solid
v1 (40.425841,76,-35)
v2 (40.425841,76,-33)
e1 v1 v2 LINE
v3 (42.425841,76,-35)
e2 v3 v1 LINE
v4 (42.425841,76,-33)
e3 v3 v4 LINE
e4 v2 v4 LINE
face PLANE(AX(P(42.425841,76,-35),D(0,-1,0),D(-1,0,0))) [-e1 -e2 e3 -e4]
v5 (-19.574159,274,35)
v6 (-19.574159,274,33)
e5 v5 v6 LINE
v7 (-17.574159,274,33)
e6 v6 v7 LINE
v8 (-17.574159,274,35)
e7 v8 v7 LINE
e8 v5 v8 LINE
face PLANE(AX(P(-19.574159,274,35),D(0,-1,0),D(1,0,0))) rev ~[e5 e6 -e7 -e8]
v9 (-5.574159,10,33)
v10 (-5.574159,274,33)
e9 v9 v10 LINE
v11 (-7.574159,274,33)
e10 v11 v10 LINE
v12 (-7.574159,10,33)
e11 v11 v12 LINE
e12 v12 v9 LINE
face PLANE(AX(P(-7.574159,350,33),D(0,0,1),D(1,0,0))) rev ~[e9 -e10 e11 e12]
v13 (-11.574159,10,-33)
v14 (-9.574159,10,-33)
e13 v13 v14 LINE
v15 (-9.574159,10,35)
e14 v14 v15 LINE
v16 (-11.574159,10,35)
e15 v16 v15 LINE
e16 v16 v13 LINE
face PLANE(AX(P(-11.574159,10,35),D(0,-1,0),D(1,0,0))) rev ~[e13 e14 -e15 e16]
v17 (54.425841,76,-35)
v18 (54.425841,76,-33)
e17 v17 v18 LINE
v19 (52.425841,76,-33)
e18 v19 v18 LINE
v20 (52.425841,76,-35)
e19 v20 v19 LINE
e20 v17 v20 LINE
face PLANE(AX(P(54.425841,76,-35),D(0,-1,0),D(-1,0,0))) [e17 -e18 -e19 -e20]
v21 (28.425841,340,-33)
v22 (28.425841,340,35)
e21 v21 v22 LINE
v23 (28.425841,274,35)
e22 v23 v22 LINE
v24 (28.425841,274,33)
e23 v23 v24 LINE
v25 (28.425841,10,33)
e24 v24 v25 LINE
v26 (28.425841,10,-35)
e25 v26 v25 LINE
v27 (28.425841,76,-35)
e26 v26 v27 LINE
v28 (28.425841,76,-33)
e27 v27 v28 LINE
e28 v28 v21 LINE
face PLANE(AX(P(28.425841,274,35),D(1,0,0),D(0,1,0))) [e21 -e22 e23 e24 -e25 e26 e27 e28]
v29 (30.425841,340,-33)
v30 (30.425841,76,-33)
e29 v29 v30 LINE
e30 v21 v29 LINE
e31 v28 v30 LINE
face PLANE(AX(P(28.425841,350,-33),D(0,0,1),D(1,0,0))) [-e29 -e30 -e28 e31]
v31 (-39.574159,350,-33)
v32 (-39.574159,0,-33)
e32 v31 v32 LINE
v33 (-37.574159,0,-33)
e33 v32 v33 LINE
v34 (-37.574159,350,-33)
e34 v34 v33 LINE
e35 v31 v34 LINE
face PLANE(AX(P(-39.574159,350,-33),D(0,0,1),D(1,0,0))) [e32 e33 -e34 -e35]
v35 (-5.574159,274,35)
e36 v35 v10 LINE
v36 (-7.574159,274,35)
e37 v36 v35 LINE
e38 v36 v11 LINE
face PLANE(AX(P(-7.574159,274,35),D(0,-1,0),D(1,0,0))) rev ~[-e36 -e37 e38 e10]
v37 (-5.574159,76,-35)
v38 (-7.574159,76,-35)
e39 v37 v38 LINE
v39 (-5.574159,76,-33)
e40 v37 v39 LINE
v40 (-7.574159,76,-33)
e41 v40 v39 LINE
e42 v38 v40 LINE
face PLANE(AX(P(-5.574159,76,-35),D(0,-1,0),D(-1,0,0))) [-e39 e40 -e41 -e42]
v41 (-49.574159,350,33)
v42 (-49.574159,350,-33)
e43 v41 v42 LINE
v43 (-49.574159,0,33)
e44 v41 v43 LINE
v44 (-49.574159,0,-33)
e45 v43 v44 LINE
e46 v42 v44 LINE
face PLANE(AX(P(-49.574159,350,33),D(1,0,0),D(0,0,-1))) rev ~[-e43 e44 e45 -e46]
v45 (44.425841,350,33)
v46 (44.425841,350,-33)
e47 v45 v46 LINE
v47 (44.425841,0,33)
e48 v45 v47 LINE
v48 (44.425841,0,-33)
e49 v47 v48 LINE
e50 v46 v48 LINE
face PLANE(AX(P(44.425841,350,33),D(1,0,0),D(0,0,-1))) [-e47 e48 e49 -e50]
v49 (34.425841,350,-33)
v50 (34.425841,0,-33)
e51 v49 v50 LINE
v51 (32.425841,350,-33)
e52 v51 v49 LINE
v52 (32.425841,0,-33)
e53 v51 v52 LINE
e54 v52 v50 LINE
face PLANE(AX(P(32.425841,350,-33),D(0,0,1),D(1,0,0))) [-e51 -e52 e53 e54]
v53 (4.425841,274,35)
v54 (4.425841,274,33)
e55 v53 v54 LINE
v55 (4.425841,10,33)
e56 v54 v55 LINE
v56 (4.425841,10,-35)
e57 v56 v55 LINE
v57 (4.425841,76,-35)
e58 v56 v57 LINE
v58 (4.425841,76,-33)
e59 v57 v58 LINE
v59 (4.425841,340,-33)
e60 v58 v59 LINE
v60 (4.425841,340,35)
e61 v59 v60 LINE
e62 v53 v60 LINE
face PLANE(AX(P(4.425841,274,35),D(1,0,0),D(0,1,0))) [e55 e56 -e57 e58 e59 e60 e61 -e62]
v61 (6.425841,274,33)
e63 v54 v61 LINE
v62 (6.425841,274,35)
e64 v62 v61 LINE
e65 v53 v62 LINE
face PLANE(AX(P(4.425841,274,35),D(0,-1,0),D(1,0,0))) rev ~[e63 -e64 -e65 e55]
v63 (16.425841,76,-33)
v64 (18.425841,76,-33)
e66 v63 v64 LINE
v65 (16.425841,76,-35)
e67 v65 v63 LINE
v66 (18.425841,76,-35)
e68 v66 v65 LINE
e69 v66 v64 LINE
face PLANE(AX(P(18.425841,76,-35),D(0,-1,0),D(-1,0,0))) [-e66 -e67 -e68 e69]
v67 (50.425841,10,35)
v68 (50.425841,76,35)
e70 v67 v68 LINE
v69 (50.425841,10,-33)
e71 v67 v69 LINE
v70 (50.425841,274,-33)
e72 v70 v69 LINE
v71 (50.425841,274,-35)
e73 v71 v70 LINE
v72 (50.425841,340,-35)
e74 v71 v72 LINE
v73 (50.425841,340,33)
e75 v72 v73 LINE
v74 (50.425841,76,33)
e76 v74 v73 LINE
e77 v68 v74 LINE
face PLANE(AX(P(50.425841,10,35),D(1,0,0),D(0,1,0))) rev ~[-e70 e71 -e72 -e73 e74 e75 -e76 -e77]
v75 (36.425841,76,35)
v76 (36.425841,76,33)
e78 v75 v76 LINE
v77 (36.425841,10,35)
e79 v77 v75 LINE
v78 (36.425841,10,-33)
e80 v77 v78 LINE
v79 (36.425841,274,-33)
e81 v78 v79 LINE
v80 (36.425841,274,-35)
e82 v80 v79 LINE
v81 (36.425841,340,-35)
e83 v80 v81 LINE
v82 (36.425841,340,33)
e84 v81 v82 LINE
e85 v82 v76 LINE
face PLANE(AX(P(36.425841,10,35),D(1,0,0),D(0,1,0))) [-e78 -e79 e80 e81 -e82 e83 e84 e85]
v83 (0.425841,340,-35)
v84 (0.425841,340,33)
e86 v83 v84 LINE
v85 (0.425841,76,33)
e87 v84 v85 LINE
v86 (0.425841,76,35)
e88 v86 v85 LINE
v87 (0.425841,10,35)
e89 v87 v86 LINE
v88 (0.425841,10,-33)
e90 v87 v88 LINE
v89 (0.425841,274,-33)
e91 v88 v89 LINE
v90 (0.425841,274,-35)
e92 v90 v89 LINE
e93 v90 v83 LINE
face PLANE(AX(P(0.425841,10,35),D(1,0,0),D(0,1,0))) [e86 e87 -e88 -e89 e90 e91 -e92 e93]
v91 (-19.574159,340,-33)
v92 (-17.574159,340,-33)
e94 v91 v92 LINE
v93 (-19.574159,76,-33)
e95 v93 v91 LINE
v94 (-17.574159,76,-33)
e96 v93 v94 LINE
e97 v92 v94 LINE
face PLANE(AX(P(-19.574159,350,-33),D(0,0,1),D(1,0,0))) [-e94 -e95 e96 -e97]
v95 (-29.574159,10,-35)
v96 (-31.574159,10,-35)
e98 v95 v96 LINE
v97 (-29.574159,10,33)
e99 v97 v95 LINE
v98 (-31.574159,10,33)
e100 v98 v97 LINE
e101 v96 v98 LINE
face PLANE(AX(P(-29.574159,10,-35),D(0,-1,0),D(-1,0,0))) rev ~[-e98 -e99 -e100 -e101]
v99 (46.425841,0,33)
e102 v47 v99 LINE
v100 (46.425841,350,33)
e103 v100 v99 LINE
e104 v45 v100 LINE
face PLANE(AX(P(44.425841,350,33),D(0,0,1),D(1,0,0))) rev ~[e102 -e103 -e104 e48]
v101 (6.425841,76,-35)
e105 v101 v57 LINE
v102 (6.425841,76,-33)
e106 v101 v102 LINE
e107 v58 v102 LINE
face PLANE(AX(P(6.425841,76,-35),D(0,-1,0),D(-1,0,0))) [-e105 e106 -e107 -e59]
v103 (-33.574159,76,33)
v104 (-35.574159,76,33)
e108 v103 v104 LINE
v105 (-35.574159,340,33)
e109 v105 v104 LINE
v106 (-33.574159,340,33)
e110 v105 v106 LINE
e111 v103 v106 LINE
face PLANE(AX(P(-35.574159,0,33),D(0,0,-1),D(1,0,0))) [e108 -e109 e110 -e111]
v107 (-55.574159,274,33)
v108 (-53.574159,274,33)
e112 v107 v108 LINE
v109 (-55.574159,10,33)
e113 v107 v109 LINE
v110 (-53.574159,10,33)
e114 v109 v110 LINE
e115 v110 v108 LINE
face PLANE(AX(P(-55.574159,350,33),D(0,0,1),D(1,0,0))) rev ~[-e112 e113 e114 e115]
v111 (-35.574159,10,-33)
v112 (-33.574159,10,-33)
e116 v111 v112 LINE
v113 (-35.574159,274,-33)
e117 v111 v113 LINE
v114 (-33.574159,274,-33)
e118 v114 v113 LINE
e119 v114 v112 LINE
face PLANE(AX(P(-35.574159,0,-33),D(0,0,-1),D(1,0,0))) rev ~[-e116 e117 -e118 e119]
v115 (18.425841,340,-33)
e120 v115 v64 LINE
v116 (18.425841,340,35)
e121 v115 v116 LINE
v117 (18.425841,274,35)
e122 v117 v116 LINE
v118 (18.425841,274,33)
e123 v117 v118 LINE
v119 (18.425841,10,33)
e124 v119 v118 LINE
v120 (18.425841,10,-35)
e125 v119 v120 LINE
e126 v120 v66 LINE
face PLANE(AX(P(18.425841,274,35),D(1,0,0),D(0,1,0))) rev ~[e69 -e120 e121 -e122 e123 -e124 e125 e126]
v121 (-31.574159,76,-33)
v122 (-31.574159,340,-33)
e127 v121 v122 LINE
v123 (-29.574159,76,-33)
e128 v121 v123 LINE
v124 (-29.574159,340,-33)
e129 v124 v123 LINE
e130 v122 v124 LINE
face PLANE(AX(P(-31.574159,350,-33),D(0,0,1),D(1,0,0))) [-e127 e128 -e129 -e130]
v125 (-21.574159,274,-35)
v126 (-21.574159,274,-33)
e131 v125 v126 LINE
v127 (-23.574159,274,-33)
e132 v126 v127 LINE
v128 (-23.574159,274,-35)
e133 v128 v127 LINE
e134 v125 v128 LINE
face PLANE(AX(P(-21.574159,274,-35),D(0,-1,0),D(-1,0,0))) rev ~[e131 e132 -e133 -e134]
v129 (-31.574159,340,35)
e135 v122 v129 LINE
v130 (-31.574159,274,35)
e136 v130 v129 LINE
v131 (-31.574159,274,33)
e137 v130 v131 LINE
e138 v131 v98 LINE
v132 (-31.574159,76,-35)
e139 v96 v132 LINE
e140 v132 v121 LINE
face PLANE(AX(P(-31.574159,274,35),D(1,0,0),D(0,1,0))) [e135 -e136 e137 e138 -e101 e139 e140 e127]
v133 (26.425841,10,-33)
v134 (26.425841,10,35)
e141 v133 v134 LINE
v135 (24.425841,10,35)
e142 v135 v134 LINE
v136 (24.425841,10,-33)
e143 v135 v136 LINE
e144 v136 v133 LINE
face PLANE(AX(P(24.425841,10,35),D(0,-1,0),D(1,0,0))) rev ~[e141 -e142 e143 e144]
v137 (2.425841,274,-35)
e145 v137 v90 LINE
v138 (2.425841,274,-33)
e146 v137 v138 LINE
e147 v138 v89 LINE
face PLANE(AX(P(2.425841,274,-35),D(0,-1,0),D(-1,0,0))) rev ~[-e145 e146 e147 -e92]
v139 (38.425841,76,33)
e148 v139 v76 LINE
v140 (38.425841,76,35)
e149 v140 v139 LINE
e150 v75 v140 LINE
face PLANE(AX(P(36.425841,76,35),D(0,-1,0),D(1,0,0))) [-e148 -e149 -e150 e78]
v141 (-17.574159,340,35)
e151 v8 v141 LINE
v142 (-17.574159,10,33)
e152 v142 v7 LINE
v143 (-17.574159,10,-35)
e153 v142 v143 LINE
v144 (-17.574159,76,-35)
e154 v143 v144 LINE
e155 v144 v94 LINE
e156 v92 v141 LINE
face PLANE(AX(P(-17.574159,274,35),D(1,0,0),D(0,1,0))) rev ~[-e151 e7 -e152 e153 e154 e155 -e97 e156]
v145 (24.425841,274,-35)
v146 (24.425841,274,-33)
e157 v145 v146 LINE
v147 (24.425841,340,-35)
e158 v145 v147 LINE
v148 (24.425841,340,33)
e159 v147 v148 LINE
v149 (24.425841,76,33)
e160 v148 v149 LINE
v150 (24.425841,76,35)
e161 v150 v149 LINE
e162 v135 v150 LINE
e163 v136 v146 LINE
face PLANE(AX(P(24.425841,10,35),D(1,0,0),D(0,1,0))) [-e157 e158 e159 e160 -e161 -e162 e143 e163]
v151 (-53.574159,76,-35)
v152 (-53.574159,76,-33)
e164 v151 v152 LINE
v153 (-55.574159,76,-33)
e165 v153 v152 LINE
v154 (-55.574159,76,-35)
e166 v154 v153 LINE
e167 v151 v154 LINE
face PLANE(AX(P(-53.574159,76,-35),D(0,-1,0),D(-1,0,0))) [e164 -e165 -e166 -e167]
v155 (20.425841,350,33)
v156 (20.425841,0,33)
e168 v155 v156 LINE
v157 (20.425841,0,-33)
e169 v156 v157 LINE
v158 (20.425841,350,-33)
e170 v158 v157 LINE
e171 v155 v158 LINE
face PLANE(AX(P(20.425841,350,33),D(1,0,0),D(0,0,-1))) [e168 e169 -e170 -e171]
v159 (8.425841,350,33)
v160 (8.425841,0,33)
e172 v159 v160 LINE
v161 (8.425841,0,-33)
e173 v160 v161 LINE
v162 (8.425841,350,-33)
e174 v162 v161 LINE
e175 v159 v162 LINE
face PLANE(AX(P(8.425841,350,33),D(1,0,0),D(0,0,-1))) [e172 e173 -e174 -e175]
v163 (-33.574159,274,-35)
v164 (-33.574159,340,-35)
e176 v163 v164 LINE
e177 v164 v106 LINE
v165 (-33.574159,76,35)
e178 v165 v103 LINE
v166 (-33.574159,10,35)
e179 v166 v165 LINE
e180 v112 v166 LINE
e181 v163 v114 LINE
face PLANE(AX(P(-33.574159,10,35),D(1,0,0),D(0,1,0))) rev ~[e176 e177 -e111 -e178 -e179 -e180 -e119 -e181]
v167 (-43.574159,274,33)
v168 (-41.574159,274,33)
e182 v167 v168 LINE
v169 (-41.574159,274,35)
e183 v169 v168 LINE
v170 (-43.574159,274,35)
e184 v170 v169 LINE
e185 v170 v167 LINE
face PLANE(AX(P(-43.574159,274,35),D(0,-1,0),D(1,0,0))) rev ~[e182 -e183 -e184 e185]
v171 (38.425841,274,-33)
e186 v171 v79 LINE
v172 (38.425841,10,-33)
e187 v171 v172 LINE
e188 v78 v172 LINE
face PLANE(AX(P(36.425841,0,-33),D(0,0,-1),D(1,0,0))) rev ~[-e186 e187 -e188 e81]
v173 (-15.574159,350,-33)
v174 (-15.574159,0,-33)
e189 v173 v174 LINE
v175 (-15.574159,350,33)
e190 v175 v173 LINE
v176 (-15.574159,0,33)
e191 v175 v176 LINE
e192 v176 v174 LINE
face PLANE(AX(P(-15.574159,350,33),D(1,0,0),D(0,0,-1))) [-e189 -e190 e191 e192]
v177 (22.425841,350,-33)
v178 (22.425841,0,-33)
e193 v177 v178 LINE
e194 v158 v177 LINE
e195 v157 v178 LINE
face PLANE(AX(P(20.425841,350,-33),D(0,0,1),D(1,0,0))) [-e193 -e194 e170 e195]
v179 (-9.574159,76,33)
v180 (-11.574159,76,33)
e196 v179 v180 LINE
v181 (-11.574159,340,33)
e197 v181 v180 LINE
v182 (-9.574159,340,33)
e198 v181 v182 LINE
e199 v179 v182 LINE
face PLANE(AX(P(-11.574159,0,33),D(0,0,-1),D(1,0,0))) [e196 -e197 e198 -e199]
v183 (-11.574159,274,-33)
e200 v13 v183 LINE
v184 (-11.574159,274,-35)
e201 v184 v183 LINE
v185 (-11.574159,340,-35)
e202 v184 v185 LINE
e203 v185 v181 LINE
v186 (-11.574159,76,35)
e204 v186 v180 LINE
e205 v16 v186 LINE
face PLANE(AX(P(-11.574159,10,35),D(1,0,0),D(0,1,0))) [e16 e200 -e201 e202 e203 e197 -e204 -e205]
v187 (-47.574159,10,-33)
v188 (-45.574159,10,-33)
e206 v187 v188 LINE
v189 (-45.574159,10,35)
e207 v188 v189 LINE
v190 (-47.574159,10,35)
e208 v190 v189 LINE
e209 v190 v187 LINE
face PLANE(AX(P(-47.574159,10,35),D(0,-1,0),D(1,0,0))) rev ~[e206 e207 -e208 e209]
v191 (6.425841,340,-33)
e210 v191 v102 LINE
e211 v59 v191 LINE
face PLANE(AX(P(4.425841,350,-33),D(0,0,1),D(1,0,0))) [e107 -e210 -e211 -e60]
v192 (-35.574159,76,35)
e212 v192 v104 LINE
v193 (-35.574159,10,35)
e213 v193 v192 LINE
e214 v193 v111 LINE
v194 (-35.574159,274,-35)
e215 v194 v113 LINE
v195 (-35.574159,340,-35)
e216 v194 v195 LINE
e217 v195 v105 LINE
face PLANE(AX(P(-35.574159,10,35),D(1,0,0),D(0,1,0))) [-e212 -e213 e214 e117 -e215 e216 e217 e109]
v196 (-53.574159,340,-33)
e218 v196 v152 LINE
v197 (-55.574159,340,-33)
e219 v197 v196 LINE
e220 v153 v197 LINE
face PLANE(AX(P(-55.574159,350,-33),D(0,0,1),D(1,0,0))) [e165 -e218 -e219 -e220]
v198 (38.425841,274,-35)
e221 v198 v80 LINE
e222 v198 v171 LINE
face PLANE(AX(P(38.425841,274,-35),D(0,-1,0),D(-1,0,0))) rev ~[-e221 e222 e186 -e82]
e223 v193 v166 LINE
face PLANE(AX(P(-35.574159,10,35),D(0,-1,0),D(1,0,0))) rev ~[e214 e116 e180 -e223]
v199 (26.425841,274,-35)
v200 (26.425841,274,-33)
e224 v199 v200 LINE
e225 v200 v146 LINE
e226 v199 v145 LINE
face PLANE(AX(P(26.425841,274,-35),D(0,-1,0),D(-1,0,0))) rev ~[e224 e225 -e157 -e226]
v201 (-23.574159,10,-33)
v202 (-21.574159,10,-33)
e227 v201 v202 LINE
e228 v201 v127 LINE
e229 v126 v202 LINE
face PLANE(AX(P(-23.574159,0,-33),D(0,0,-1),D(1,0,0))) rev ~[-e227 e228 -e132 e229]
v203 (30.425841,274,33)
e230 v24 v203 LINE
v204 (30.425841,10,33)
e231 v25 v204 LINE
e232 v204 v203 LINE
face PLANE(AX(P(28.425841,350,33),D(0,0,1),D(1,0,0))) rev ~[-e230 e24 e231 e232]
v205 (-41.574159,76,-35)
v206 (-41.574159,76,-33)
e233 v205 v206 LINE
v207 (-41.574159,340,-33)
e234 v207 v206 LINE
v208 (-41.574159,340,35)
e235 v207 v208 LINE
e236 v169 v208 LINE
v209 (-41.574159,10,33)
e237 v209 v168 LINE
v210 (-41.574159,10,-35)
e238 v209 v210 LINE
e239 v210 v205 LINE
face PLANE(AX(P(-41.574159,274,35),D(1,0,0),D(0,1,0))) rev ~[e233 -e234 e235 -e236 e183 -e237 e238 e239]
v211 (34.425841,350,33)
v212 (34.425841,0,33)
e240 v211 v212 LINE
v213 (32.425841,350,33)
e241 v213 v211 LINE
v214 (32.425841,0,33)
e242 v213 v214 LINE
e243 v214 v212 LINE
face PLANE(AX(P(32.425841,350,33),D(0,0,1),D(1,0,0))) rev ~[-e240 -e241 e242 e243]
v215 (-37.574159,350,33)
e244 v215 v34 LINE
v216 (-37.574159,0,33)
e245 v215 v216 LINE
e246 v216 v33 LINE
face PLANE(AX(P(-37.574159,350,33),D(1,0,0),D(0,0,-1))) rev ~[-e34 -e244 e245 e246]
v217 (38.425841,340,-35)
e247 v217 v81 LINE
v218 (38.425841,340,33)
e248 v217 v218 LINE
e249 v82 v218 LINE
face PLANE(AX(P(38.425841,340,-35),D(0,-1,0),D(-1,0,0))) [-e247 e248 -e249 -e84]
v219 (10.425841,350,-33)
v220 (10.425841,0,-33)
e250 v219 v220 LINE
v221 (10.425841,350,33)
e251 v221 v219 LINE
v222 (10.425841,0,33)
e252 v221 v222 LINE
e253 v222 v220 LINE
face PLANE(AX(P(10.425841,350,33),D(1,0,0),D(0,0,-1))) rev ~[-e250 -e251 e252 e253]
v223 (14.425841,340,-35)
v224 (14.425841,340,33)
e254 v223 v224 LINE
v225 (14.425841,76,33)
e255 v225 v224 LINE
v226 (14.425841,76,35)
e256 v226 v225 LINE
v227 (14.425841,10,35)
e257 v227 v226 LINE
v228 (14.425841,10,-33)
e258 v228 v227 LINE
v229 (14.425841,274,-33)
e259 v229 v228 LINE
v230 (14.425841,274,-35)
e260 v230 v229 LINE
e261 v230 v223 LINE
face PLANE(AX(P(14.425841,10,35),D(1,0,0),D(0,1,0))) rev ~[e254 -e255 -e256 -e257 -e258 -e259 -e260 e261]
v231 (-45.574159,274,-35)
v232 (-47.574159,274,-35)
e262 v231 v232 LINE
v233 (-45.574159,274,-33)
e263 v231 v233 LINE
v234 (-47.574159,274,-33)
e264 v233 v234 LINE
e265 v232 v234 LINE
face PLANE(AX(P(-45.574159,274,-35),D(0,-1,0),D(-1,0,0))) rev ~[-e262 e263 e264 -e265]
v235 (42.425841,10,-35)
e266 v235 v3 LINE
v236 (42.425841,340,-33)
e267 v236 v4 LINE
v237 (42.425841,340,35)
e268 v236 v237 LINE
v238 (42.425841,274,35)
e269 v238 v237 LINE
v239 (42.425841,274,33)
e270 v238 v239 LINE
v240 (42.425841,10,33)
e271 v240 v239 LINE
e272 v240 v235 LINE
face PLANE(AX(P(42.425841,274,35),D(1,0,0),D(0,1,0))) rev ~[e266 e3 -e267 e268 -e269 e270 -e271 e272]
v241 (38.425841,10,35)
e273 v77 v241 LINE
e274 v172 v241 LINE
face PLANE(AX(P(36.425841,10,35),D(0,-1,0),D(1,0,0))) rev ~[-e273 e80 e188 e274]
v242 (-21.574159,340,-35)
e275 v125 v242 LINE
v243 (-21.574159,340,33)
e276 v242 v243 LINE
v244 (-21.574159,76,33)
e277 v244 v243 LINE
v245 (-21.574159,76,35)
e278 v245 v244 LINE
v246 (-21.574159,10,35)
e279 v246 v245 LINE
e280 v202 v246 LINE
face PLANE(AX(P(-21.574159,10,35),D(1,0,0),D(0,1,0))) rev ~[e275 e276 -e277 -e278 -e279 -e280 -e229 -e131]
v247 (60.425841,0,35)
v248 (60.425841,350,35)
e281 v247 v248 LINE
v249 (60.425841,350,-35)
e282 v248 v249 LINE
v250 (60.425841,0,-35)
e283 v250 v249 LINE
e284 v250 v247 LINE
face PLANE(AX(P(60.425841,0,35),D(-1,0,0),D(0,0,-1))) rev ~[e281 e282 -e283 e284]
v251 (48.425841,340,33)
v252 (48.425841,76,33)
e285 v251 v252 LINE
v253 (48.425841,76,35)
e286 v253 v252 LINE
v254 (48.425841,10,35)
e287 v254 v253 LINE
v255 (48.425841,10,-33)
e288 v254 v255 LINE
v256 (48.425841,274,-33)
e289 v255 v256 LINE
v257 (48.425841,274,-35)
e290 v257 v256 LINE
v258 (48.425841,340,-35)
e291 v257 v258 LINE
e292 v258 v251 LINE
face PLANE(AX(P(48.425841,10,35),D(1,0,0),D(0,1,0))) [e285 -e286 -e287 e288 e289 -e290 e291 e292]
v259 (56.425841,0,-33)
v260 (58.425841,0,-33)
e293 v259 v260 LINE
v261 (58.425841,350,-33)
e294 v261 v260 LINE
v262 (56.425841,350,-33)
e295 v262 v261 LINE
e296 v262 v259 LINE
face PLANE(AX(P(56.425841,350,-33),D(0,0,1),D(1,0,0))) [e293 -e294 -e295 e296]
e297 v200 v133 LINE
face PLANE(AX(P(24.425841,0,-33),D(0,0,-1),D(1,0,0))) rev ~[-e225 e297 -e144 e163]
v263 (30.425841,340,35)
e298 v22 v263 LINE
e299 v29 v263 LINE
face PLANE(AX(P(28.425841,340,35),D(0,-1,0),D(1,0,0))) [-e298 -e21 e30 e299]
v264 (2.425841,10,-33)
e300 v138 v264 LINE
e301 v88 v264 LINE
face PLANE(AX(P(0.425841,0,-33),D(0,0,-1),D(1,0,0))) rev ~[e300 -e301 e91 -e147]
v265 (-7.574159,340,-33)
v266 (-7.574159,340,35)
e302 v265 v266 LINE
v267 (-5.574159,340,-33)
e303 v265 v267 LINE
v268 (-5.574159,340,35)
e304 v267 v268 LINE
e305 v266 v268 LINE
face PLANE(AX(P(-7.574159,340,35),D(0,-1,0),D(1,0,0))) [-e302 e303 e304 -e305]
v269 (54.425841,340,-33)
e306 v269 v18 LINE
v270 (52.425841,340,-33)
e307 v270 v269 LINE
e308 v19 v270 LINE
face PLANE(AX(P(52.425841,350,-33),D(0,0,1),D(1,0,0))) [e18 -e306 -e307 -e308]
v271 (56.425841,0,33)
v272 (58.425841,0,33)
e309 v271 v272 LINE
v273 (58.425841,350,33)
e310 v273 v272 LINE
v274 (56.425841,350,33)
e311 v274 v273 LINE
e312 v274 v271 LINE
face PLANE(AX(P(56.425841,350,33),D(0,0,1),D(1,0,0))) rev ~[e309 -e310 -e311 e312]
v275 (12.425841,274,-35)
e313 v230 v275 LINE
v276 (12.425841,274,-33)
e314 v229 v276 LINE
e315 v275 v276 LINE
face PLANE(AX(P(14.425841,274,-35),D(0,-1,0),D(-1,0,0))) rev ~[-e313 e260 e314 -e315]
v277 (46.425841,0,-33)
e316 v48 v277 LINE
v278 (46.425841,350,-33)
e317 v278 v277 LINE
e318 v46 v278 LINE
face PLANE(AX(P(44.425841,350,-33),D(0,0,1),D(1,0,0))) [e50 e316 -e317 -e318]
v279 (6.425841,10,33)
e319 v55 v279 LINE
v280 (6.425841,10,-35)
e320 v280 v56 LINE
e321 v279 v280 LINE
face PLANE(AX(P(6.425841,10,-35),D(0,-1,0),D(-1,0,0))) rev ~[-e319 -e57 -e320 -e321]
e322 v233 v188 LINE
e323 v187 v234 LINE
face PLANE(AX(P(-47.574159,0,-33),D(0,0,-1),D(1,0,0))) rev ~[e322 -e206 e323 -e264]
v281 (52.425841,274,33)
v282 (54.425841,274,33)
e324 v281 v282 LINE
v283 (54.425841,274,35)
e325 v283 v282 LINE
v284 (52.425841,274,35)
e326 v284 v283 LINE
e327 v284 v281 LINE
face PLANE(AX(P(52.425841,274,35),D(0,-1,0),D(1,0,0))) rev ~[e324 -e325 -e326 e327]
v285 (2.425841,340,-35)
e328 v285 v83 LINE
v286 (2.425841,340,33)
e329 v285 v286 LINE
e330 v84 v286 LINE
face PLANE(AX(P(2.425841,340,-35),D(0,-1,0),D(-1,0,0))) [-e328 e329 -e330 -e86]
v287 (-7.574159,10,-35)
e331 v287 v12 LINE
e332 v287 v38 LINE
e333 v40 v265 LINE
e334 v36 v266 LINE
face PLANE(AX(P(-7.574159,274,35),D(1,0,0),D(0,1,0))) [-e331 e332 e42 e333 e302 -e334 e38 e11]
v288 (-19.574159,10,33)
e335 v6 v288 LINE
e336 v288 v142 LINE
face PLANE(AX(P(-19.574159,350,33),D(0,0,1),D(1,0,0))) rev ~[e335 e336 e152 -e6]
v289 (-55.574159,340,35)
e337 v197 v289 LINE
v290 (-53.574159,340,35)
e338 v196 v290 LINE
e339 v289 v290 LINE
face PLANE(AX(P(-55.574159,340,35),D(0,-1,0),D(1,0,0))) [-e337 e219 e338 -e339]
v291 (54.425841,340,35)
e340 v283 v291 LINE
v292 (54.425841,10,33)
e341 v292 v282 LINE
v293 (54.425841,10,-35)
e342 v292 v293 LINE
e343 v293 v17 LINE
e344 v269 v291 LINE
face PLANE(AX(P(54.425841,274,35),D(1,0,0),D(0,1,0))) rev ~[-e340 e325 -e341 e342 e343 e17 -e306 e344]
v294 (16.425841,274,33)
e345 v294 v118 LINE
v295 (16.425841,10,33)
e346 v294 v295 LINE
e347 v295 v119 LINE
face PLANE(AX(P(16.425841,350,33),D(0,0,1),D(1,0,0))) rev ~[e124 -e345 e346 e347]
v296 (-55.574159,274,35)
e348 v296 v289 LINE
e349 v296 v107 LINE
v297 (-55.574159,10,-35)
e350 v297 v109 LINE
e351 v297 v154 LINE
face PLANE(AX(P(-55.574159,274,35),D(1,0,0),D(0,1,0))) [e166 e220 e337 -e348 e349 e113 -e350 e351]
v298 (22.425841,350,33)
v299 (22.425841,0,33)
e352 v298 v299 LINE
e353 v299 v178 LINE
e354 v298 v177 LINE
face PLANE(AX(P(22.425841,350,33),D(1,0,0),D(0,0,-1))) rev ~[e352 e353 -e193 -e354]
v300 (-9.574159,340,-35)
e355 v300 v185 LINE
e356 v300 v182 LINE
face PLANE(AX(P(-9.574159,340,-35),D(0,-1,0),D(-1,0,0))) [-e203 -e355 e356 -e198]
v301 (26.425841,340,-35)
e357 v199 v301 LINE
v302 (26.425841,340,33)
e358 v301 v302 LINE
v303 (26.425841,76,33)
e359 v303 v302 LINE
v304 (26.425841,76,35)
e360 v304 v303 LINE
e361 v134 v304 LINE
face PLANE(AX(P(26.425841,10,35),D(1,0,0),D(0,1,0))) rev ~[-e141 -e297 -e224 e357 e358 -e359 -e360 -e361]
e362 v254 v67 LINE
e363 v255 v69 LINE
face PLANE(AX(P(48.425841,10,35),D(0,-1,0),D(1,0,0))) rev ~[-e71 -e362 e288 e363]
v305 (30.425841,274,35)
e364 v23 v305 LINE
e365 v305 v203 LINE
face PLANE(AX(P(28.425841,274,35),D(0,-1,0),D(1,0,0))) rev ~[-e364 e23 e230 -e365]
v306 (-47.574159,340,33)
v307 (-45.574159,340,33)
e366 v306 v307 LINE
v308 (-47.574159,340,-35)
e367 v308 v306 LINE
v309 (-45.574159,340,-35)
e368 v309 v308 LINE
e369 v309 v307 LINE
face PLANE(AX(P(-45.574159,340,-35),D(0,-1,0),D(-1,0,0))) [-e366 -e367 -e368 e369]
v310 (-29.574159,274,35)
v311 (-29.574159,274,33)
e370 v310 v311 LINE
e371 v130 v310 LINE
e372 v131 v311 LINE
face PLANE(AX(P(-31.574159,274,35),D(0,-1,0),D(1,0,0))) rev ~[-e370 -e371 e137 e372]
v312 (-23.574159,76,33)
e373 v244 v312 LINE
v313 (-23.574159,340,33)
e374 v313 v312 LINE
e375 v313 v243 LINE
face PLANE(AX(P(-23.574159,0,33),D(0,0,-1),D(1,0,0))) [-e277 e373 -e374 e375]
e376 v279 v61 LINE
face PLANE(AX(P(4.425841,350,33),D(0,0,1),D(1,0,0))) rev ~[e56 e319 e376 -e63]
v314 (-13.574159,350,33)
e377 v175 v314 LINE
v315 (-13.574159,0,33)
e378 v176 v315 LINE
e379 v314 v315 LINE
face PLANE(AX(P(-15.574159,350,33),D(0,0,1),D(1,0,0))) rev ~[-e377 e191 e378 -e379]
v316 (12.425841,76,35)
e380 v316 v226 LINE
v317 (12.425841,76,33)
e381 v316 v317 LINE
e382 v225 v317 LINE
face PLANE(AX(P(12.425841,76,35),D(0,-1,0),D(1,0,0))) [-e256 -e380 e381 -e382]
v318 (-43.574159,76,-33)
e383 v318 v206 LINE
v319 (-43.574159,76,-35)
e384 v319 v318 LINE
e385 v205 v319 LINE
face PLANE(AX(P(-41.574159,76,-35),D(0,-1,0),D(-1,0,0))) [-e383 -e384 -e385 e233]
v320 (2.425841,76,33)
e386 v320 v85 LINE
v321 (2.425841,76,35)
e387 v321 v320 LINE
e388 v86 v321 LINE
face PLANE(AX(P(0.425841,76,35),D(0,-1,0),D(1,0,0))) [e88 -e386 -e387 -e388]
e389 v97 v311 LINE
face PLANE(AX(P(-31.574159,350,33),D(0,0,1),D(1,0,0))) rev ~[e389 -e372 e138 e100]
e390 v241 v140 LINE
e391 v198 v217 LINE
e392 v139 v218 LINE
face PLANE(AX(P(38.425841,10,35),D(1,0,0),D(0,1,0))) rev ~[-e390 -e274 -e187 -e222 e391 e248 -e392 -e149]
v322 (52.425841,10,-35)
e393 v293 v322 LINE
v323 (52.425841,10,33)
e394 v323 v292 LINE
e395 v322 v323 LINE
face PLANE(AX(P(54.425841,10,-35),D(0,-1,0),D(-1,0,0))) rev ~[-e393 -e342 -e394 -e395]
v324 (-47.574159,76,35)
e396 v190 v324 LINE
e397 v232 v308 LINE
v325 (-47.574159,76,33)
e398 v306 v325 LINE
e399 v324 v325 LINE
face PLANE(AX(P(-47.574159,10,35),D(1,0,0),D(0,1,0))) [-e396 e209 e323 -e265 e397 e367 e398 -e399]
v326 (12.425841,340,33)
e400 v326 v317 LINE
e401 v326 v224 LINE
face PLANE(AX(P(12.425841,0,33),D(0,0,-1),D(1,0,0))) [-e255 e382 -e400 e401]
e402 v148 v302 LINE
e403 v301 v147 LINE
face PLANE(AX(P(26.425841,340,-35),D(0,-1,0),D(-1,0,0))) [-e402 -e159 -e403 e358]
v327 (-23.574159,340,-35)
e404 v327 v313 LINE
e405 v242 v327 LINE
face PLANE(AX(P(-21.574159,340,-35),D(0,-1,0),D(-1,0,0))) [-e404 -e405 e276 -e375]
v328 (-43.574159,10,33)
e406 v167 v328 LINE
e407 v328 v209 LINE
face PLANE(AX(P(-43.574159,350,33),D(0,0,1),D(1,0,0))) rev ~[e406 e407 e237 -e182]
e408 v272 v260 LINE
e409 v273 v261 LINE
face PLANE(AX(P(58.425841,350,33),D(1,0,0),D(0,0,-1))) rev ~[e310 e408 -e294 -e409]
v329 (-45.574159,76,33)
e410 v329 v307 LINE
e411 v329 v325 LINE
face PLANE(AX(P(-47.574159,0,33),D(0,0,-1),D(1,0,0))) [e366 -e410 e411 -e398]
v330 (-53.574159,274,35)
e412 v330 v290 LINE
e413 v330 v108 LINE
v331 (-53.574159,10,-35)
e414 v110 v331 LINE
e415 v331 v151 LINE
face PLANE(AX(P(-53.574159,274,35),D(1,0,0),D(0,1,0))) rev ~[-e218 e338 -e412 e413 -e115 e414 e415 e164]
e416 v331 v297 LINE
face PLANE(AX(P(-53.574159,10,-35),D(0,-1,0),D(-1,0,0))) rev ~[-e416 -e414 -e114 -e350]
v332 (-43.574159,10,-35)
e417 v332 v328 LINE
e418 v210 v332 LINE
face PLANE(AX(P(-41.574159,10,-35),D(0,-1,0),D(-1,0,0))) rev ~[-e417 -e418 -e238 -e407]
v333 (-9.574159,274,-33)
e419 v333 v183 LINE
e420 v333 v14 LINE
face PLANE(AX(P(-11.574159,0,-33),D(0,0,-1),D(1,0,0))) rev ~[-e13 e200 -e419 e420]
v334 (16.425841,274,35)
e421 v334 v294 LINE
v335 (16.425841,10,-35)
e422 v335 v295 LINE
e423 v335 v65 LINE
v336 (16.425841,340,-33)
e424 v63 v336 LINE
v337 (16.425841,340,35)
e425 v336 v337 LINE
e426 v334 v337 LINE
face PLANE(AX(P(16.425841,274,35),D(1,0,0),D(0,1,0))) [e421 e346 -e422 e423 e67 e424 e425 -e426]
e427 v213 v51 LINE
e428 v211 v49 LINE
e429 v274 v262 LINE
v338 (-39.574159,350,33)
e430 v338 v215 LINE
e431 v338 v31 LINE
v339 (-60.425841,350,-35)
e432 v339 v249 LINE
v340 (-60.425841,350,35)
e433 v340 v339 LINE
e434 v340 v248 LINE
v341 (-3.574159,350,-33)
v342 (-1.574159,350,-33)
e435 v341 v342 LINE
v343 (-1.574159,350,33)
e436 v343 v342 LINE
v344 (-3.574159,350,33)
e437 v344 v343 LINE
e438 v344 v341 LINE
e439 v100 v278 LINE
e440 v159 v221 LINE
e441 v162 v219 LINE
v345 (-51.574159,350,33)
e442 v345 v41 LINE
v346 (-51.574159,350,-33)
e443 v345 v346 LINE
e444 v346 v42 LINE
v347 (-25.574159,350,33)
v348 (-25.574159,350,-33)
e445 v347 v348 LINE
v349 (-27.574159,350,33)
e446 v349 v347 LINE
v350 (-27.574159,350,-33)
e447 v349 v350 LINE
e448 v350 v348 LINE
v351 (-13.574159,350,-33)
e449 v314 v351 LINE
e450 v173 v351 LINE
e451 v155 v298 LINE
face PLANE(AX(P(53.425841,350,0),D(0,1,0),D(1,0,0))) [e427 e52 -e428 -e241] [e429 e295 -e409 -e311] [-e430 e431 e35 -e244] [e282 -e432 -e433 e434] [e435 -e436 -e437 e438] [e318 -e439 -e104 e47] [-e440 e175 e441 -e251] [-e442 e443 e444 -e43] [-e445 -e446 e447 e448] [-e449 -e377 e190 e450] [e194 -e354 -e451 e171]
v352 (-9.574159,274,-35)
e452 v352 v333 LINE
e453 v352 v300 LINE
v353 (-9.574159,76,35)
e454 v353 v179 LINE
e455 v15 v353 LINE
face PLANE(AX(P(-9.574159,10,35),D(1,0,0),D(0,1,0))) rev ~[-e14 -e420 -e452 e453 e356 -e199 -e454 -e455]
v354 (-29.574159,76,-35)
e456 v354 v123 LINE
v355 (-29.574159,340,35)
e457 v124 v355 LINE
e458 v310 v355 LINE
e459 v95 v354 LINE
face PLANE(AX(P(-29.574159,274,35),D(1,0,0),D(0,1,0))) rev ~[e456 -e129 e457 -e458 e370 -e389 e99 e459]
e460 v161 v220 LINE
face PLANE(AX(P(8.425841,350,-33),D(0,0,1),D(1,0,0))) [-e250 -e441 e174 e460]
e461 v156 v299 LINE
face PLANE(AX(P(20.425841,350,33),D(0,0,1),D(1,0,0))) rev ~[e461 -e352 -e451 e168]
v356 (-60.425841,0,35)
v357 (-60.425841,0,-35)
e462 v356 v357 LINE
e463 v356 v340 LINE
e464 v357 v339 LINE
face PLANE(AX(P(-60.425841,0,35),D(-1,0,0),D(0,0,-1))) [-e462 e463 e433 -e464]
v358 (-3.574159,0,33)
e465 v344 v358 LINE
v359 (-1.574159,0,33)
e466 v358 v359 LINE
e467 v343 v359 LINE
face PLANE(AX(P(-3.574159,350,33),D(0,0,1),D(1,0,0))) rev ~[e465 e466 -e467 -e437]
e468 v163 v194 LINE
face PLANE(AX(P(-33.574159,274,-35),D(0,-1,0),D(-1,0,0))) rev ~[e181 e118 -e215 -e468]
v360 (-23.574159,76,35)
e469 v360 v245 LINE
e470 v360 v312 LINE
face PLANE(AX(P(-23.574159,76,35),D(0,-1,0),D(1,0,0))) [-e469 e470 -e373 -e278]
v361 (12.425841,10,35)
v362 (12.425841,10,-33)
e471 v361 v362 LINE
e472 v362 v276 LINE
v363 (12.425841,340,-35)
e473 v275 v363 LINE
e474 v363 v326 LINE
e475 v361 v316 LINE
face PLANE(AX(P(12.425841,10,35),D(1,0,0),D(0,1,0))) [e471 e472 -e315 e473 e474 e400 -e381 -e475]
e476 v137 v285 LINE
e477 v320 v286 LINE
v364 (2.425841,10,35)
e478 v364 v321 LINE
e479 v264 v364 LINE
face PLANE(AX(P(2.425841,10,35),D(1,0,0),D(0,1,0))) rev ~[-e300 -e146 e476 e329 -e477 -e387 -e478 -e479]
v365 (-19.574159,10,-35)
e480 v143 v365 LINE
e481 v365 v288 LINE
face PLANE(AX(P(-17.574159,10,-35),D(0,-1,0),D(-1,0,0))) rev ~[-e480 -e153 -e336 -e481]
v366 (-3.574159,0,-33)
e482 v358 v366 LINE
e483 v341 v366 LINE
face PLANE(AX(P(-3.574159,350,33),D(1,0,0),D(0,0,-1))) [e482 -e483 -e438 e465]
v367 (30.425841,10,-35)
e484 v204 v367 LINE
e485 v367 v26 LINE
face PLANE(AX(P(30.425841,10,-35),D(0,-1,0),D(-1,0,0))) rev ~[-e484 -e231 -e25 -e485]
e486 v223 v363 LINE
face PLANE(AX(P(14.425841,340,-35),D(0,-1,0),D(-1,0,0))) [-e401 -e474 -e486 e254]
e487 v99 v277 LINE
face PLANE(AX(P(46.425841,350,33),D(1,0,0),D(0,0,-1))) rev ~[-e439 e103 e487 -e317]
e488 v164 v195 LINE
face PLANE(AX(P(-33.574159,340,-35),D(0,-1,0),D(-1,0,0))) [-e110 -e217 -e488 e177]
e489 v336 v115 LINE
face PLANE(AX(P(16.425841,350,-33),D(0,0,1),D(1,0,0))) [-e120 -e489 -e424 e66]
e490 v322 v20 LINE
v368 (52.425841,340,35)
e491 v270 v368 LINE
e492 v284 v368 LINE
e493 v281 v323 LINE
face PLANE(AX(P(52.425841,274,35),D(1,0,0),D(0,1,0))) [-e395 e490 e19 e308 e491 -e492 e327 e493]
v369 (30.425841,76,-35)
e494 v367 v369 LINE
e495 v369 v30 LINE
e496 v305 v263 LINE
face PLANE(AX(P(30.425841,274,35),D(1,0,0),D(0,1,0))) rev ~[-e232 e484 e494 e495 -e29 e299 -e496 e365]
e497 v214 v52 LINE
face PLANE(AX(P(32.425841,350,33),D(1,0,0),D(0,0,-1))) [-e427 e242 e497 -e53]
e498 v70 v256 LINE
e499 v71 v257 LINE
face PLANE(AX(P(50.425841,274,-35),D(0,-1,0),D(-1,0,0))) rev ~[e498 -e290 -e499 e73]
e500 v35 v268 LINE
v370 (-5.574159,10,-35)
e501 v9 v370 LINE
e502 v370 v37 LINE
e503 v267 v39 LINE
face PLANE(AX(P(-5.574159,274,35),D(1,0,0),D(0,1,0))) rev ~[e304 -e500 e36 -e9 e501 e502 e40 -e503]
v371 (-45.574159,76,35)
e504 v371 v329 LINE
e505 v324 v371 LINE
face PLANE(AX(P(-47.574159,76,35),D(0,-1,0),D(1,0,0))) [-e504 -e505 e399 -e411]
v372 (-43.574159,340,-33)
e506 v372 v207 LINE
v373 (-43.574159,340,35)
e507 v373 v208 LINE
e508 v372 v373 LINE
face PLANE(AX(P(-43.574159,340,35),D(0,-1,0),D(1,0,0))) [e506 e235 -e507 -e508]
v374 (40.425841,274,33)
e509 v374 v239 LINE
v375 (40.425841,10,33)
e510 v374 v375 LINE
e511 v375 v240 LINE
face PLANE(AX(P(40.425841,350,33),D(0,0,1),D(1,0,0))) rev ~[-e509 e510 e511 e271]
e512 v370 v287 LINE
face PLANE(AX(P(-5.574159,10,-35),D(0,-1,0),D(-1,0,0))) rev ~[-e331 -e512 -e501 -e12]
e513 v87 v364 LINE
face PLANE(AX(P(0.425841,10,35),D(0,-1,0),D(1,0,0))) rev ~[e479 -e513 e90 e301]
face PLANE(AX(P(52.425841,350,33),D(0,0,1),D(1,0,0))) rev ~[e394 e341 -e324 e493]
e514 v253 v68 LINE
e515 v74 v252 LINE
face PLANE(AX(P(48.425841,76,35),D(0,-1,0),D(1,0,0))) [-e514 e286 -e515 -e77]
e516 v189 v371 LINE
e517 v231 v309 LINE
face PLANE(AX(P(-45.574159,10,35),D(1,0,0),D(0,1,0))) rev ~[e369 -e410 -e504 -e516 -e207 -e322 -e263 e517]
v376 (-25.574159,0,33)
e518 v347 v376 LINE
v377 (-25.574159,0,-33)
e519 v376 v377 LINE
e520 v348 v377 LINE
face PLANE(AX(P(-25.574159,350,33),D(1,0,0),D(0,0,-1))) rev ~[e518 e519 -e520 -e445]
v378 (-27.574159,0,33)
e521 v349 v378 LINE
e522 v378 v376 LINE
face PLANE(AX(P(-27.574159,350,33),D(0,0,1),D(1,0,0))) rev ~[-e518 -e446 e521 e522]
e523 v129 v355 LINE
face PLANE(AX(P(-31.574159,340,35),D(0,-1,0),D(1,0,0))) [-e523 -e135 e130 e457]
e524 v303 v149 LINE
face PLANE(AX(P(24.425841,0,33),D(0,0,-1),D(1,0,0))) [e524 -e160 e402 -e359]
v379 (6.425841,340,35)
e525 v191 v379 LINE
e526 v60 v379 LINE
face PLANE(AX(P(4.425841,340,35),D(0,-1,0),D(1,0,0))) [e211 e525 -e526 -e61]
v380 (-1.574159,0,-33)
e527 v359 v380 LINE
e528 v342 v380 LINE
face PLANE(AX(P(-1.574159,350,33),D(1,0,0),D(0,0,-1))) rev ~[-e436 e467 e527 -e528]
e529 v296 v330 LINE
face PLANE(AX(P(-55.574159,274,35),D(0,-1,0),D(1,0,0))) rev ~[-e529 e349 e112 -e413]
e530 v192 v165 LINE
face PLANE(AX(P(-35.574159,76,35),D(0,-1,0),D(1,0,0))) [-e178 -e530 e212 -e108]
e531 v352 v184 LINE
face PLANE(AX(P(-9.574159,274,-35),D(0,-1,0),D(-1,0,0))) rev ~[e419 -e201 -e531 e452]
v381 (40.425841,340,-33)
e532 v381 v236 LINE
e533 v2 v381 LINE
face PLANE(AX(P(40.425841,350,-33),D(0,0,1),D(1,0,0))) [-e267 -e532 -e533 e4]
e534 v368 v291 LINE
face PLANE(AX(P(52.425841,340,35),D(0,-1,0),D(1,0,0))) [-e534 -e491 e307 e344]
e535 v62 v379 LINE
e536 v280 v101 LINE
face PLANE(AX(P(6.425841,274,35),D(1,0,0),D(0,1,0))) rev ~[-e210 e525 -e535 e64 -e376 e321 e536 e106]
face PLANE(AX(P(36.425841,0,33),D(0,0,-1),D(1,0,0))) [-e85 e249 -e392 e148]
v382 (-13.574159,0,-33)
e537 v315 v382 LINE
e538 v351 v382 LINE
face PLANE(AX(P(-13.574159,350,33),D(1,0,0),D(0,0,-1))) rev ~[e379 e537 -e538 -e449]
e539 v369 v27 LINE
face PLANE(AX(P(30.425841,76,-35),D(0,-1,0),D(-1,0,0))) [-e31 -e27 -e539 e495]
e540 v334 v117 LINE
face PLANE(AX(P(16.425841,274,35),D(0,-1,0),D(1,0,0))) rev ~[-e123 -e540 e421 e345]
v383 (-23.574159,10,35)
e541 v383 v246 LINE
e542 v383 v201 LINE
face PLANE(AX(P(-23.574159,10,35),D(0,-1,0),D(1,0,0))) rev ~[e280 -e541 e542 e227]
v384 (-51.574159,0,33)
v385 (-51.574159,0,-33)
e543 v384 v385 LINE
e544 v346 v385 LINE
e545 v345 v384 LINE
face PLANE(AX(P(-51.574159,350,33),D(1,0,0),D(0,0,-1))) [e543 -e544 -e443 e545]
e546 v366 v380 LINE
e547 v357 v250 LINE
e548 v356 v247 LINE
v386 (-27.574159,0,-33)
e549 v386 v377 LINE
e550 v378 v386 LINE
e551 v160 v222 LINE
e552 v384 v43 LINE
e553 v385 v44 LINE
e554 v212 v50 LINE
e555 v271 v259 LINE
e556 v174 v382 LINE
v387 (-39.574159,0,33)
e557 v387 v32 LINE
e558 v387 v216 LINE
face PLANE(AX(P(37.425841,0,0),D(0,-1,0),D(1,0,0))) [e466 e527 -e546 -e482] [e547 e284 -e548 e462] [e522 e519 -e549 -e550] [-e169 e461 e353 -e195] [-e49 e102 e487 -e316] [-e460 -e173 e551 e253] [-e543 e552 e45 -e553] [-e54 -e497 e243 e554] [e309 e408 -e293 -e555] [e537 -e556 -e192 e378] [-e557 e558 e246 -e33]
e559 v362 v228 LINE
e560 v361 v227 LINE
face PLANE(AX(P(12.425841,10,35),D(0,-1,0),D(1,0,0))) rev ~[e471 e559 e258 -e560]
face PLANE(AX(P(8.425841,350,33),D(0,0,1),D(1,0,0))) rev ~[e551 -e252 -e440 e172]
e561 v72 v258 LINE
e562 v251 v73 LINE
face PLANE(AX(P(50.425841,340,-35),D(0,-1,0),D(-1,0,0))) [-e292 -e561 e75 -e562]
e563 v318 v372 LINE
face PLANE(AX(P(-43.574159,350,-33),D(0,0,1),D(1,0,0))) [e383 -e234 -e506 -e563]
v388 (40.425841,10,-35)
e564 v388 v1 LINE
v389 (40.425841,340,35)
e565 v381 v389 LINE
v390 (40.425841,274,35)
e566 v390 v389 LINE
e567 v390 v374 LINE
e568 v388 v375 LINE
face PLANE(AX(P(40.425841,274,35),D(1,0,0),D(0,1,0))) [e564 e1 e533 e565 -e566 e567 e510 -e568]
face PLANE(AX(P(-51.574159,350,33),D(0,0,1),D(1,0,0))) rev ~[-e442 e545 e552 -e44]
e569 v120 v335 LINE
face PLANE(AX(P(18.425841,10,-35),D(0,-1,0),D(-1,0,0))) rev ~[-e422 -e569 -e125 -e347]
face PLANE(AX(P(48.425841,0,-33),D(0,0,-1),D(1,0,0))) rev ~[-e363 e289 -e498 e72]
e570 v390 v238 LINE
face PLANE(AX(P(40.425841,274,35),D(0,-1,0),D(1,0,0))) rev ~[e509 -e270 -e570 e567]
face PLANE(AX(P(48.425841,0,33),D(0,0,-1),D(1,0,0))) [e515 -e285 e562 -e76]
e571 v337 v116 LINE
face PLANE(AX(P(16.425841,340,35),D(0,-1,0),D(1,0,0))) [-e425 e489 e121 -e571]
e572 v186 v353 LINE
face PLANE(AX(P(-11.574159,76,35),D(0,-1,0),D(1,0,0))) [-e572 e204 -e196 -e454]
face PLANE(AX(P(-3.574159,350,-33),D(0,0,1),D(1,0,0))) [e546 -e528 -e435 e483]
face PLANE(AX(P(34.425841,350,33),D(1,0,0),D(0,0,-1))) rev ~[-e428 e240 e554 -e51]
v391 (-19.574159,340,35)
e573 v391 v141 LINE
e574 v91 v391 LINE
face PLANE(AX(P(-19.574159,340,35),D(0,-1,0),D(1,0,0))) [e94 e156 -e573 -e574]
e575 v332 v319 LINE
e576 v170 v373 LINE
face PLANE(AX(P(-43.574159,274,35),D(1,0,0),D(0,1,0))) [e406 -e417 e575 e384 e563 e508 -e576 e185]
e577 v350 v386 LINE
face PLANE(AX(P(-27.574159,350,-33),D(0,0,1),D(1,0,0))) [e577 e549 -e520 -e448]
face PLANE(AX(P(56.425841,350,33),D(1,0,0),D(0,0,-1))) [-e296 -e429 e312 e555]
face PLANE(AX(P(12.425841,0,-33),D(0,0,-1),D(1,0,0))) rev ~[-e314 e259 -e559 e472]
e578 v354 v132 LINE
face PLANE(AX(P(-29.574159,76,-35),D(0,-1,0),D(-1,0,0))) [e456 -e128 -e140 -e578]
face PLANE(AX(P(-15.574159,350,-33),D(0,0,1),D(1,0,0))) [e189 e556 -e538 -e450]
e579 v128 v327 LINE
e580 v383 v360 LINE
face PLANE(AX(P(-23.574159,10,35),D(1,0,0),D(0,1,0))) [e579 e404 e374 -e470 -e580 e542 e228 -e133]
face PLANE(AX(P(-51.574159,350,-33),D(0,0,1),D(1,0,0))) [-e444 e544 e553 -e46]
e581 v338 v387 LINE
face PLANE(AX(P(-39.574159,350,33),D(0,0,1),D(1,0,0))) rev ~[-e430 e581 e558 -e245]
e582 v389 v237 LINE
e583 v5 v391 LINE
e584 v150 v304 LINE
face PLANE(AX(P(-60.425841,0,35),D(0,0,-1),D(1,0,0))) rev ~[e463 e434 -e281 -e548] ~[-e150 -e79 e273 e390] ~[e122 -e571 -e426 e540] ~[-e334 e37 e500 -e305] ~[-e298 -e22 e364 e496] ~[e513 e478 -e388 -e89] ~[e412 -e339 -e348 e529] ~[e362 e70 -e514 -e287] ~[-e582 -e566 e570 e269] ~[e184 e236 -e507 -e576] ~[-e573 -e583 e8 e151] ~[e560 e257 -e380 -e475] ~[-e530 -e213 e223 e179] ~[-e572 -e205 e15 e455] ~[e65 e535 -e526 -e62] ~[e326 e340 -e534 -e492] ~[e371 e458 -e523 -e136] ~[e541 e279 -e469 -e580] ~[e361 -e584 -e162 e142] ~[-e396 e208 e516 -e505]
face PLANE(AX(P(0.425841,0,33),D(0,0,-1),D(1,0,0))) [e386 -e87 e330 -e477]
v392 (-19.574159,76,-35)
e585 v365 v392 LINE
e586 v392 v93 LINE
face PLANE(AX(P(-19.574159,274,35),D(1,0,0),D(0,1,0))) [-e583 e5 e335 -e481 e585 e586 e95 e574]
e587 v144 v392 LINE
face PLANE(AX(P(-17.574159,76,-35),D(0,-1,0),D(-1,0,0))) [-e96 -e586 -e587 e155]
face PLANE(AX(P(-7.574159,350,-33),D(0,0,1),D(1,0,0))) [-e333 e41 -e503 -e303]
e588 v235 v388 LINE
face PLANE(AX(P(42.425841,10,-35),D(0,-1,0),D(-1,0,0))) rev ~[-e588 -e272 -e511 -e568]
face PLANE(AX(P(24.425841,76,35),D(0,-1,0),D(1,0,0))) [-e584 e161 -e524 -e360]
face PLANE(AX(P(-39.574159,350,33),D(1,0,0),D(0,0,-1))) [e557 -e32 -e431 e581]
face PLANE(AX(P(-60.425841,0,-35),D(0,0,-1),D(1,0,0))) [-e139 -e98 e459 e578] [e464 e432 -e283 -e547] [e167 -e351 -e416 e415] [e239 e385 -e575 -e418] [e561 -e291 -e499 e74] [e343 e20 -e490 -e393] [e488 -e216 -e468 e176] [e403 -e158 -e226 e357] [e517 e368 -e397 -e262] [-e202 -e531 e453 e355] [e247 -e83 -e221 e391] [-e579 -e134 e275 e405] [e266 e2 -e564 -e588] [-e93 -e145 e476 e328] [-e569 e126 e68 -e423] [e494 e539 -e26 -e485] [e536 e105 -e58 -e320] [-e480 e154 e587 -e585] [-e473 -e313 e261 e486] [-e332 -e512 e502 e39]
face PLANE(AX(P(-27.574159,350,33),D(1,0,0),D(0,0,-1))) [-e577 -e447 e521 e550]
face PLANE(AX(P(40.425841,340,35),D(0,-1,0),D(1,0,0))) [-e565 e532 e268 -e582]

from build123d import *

# Parameters (mm, degrees)
SKETCH1_W           = 120.851681216
SKETCH1_H           = 70
BOSS_EXTRUDE1_DEPTH = 350
SKETCH2_W           = 2
SKETCH2_H           = 66
CUT_EXTRUDE1_DEPTH  = 350
LPATTERN1_COUNT     = 10
LPATTERN1_PITCH     = 12
SKETCH3_W           = 2
SKETCH3_H           = 66
CUT_EXTRUDE2_DEPTH  = 340
LPATTERN2_COUNT     = 10
LPATTERN2_PITCH     = 12
SKETCH4_W           = 2
SKETCH4_H           = 66
CUT_EXTRUDE3_DEPTH  = 340
LPATTERN3_COUNT     = 10
LPATTERN3_PITCH     = 12
SKETCH5_W           = 2
SKETCH5_H           = 66
CUT_EXTRUDE4_DEPTH  = 68
LPATTERN4_COUNT     = 9
LPATTERN4_PITCH     = 12
SKETCH6_W           = 2
SKETCH6_H           = 66
CUT_EXTRUDE5_DEPTH  = 68
LPATTERN5_COUNT     = 9
LPATTERN5_PITCH     = 12
SKETCH7_W           = 2
SKETCH7_H           = 66
CUT_EXTRUDE6_DEPTH  = 68
LPATTERN6_COUNT     = 10
LPATTERN6_PITCH     = 12
SKETCH8_W           = 2
SKETCH8_H           = 66
CUT_EXTRUDE7_DEPTH  = 68
LPATTERN7_COUNT     = 10
LPATTERN7_PITCH     = 12
SKETCH9_W           = 2
SKETCH9_H           = 66
BOSS_EXTRUDE2_DEPTH = 10
LPATTERN9_COUNT     = 10
LPATTERN9_PITCH     = 12
SKETCH11_W          = 2
SKETCH11_H          = 66
BOSS_EXTRUDE4_DEPTH = 10
LPATTERN10_COUNT    = 9
LPATTERN10_PITCH    = 12


with BuildPart() as part:
    # Sketch1 → Boss-Extrude1 (new body)
    with BuildSketch(Plane(origin=(0, 0, 0), x_dir=(1, 0, 0), z_dir=(0, 1, 0))):
        Rectangle(SKETCH1_W, SKETCH1_H)
    extrude(amount=BOSS_EXTRUDE1_DEPTH)

    # Sketch2 → Cut-Extrude1 (cut)
    with BuildSketch(Plane(origin=(0, 350, 0), x_dir=(1, 0, 0), z_dir=(0, 1, 0))):
        with Locations((57.425840608, 0)):
            Rectangle(SKETCH2_W, SKETCH2_H)
    cut_extrude1 = extrude(amount=-CUT_EXTRUDE1_DEPTH, mode=Mode.SUBTRACT)

    # LPattern1: Cut-Extrude1 ×10
    with Locations(*[(-i * LPATTERN1_PITCH, 0, 0) for i in range(1, LPATTERN1_COUNT)]):
        add(cut_extrude1, mode=Mode.SUBTRACT)

    # Sketch3 → Cut-Extrude2 (cut)
    with BuildSketch(Plane(origin=(0, 350, 0), x_dir=(1, 0, 0), z_dir=(0, 1, 0))):
        with Locations((53.425840608, 0)):
            Rectangle(SKETCH3_W, SKETCH3_H)
    cut_extrude2 = extrude(amount=-CUT_EXTRUDE2_DEPTH, mode=Mode.SUBTRACT)

    # LPattern2: Cut-Extrude2 ×10
    with Locations(*[(-i * LPATTERN2_PITCH, 0, 0) for i in range(1, LPATTERN2_COUNT)]):
        add(cut_extrude2, mode=Mode.SUBTRACT)

    # Sketch4 → Cut-Extrude3 (cut)
    with BuildSketch(Plane.XZ):
        with Locations((-46.574159392, 0)):
            Rectangle(SKETCH4_W, SKETCH4_H)
    cut_extrude3 = extrude(amount=-CUT_EXTRUDE3_DEPTH, mode=Mode.SUBTRACT)

    # LPattern3: Cut-Extrude3 ×10
    with Locations(*[(i * LPATTERN3_PITCH, 0, 0) for i in range(1, LPATTERN3_COUNT)]):
        add(cut_extrude3, mode=Mode.SUBTRACT)

    # Sketch5 → Cut-Extrude4 (cut)
    with BuildSketch(Plane(origin=(0, 0, -35), x_dir=(-1, 0, 0), z_dir=(0, 0, -1))):
        with Locations((-49.425840608, 307)):
            Rectangle(SKETCH5_W, SKETCH5_H)
    cut_extrude4 = extrude(amount=-CUT_EXTRUDE4_DEPTH, mode=Mode.SUBTRACT)

    # LPattern4: Cut-Extrude4 ×9
    with Locations(*[(-i * LPATTERN4_PITCH, 0, 0) for i in range(1, LPATTERN4_COUNT)]):
        add(cut_extrude4, mode=Mode.SUBTRACT)

    # Sketch6 → Cut-Extrude5 (cut)
    with BuildSketch(Plane.XY.offset(35)):
        with Locations((49.425840608, 43)):
            Rectangle(SKETCH6_W, SKETCH6_H)
    cut_extrude5 = extrude(amount=-CUT_EXTRUDE5_DEPTH, mode=Mode.SUBTRACT)

    # LPattern5: Cut-Extrude5 ×9
    with Locations(*[(-i * LPATTERN5_PITCH, 0, 0) for i in range(1, LPATTERN5_COUNT)]):
        add(cut_extrude5, mode=Mode.SUBTRACT)

    # Sketch7 → Cut-Extrude6 (cut)
    with BuildSketch(Plane(origin=(0, 0, -35), x_dir=(-1, 0, 0), z_dir=(0, 0, -1))):
        with Locations((-53.425840608, 43)):
            Rectangle(SKETCH7_W, SKETCH7_H)
    cut_extrude6 = extrude(amount=-CUT_EXTRUDE6_DEPTH, mode=Mode.SUBTRACT)

    # LPattern6: Cut-Extrude6 ×10
    with Locations(*[(-i * LPATTERN6_PITCH, 0, 0) for i in range(1, LPATTERN6_COUNT)]):
        add(cut_extrude6, mode=Mode.SUBTRACT)

    # Sketch8 → Cut-Extrude7 (cut)
    with BuildSketch(Plane.XY.offset(35)):
        with Locations((53.425840608, 307)):
            Rectangle(SKETCH8_W, SKETCH8_H)
    cut_extrude7 = extrude(amount=-CUT_EXTRUDE7_DEPTH, mode=Mode.SUBTRACT)

    # LPattern7: Cut-Extrude7 ×10
    with Locations(*[(-i * LPATTERN7_PITCH, 0, 0) for i in range(1, LPATTERN7_COUNT)]):
        add(cut_extrude7, mode=Mode.SUBTRACT)


with BuildPart() as body_2:
    # Sketch9 → Boss-Extrude2 (new body)
    with BuildSketch(Plane(origin=(0, 350, 0), x_dir=(1, 0, 0), z_dir=(0, 1, 0))):
        with Locations((53.425840608, 0)):
            Rectangle(SKETCH9_W, SKETCH9_H)
    boss_extrude2 = extrude(amount=-BOSS_EXTRUDE2_DEPTH)


with BuildPart() as lpattern9_1:
    # LPattern9: pattern copy
    add(boss_extrude2.moved(Location(Vector(-1, 0, 0) * (1 * LPATTERN9_PITCH))))


with BuildPart() as lpattern9_2:
    # LPattern9: pattern copy
    add(boss_extrude2.moved(Location(Vector(-1, 0, 0) * (2 * LPATTERN9_PITCH))))


with BuildPart() as lpattern9_3:
    # LPattern9: pattern copy
    add(boss_extrude2.moved(Location(Vector(-1, 0, 0) * (3 * LPATTERN9_PITCH))))


with BuildPart() as lpattern9_4:
    # LPattern9: pattern copy
    add(boss_extrude2.moved(Location(Vector(-1, 0, 0) * (4 * LPATTERN9_PITCH))))


with BuildPart() as lpattern9_5:
    # LPattern9: pattern copy
    add(boss_extrude2.moved(Location(Vector(-1, 0, 0) * (5 * LPATTERN9_PITCH))))


with BuildPart() as lpattern9_6:
    # LPattern9: pattern copy
    add(boss_extrude2.moved(Location(Vector(-1, 0, 0) * (6 * LPATTERN9_PITCH))))


with BuildPart() as lpattern9_7:
    # LPattern9: pattern copy
    add(boss_extrude2.moved(Location(Vector(-1, 0, 0) * (7 * LPATTERN9_PITCH))))


with BuildPart() as lpattern9_8:
    # LPattern9: pattern copy
    add(boss_extrude2.moved(Location(Vector(-1, 0, 0) * (8 * LPATTERN9_PITCH))))


with BuildPart() as lpattern9_9:
    # LPattern9: pattern copy
    add(boss_extrude2.moved(Location(Vector(-1, 0, 0) * (9 * LPATTERN9_PITCH))))


with BuildPart() as part_1:
    add(part.part)

    # Combine2: union LPattern9_1, LPattern9_2, LPattern9_3, LPattern9_4, LPattern9_5, LPattern9_6, LPattern9_7, LPattern9_8, LPattern9_9, body 2
    add(lpattern9_1.part)
    add(lpattern9_2.part)
    add(lpattern9_3.part)
    add(lpattern9_4.part)
    add(lpattern9_5.part)
    add(lpattern9_6.part)
    add(lpattern9_7.part)
    add(lpattern9_8.part)
    add(lpattern9_9.part)
    add(body_2.part)

    # Sketch11 → Boss-Extrude4 (add)
    with BuildSketch(Plane.XZ):
        with Locations((49.425840608, 0)):
            Rectangle(SKETCH11_W, SKETCH11_H)
    boss_extrude4 = extrude(amount=-BOSS_EXTRUDE4_DEPTH)

    # LPattern10: Boss-Extrude4 ×9
    with Locations(*[(-i * LPATTERN10_PITCH, 0, 0) for i in range(1, LPATTERN10_COUNT)]):
        add(boss_extrude4)


solid = part_1.part
